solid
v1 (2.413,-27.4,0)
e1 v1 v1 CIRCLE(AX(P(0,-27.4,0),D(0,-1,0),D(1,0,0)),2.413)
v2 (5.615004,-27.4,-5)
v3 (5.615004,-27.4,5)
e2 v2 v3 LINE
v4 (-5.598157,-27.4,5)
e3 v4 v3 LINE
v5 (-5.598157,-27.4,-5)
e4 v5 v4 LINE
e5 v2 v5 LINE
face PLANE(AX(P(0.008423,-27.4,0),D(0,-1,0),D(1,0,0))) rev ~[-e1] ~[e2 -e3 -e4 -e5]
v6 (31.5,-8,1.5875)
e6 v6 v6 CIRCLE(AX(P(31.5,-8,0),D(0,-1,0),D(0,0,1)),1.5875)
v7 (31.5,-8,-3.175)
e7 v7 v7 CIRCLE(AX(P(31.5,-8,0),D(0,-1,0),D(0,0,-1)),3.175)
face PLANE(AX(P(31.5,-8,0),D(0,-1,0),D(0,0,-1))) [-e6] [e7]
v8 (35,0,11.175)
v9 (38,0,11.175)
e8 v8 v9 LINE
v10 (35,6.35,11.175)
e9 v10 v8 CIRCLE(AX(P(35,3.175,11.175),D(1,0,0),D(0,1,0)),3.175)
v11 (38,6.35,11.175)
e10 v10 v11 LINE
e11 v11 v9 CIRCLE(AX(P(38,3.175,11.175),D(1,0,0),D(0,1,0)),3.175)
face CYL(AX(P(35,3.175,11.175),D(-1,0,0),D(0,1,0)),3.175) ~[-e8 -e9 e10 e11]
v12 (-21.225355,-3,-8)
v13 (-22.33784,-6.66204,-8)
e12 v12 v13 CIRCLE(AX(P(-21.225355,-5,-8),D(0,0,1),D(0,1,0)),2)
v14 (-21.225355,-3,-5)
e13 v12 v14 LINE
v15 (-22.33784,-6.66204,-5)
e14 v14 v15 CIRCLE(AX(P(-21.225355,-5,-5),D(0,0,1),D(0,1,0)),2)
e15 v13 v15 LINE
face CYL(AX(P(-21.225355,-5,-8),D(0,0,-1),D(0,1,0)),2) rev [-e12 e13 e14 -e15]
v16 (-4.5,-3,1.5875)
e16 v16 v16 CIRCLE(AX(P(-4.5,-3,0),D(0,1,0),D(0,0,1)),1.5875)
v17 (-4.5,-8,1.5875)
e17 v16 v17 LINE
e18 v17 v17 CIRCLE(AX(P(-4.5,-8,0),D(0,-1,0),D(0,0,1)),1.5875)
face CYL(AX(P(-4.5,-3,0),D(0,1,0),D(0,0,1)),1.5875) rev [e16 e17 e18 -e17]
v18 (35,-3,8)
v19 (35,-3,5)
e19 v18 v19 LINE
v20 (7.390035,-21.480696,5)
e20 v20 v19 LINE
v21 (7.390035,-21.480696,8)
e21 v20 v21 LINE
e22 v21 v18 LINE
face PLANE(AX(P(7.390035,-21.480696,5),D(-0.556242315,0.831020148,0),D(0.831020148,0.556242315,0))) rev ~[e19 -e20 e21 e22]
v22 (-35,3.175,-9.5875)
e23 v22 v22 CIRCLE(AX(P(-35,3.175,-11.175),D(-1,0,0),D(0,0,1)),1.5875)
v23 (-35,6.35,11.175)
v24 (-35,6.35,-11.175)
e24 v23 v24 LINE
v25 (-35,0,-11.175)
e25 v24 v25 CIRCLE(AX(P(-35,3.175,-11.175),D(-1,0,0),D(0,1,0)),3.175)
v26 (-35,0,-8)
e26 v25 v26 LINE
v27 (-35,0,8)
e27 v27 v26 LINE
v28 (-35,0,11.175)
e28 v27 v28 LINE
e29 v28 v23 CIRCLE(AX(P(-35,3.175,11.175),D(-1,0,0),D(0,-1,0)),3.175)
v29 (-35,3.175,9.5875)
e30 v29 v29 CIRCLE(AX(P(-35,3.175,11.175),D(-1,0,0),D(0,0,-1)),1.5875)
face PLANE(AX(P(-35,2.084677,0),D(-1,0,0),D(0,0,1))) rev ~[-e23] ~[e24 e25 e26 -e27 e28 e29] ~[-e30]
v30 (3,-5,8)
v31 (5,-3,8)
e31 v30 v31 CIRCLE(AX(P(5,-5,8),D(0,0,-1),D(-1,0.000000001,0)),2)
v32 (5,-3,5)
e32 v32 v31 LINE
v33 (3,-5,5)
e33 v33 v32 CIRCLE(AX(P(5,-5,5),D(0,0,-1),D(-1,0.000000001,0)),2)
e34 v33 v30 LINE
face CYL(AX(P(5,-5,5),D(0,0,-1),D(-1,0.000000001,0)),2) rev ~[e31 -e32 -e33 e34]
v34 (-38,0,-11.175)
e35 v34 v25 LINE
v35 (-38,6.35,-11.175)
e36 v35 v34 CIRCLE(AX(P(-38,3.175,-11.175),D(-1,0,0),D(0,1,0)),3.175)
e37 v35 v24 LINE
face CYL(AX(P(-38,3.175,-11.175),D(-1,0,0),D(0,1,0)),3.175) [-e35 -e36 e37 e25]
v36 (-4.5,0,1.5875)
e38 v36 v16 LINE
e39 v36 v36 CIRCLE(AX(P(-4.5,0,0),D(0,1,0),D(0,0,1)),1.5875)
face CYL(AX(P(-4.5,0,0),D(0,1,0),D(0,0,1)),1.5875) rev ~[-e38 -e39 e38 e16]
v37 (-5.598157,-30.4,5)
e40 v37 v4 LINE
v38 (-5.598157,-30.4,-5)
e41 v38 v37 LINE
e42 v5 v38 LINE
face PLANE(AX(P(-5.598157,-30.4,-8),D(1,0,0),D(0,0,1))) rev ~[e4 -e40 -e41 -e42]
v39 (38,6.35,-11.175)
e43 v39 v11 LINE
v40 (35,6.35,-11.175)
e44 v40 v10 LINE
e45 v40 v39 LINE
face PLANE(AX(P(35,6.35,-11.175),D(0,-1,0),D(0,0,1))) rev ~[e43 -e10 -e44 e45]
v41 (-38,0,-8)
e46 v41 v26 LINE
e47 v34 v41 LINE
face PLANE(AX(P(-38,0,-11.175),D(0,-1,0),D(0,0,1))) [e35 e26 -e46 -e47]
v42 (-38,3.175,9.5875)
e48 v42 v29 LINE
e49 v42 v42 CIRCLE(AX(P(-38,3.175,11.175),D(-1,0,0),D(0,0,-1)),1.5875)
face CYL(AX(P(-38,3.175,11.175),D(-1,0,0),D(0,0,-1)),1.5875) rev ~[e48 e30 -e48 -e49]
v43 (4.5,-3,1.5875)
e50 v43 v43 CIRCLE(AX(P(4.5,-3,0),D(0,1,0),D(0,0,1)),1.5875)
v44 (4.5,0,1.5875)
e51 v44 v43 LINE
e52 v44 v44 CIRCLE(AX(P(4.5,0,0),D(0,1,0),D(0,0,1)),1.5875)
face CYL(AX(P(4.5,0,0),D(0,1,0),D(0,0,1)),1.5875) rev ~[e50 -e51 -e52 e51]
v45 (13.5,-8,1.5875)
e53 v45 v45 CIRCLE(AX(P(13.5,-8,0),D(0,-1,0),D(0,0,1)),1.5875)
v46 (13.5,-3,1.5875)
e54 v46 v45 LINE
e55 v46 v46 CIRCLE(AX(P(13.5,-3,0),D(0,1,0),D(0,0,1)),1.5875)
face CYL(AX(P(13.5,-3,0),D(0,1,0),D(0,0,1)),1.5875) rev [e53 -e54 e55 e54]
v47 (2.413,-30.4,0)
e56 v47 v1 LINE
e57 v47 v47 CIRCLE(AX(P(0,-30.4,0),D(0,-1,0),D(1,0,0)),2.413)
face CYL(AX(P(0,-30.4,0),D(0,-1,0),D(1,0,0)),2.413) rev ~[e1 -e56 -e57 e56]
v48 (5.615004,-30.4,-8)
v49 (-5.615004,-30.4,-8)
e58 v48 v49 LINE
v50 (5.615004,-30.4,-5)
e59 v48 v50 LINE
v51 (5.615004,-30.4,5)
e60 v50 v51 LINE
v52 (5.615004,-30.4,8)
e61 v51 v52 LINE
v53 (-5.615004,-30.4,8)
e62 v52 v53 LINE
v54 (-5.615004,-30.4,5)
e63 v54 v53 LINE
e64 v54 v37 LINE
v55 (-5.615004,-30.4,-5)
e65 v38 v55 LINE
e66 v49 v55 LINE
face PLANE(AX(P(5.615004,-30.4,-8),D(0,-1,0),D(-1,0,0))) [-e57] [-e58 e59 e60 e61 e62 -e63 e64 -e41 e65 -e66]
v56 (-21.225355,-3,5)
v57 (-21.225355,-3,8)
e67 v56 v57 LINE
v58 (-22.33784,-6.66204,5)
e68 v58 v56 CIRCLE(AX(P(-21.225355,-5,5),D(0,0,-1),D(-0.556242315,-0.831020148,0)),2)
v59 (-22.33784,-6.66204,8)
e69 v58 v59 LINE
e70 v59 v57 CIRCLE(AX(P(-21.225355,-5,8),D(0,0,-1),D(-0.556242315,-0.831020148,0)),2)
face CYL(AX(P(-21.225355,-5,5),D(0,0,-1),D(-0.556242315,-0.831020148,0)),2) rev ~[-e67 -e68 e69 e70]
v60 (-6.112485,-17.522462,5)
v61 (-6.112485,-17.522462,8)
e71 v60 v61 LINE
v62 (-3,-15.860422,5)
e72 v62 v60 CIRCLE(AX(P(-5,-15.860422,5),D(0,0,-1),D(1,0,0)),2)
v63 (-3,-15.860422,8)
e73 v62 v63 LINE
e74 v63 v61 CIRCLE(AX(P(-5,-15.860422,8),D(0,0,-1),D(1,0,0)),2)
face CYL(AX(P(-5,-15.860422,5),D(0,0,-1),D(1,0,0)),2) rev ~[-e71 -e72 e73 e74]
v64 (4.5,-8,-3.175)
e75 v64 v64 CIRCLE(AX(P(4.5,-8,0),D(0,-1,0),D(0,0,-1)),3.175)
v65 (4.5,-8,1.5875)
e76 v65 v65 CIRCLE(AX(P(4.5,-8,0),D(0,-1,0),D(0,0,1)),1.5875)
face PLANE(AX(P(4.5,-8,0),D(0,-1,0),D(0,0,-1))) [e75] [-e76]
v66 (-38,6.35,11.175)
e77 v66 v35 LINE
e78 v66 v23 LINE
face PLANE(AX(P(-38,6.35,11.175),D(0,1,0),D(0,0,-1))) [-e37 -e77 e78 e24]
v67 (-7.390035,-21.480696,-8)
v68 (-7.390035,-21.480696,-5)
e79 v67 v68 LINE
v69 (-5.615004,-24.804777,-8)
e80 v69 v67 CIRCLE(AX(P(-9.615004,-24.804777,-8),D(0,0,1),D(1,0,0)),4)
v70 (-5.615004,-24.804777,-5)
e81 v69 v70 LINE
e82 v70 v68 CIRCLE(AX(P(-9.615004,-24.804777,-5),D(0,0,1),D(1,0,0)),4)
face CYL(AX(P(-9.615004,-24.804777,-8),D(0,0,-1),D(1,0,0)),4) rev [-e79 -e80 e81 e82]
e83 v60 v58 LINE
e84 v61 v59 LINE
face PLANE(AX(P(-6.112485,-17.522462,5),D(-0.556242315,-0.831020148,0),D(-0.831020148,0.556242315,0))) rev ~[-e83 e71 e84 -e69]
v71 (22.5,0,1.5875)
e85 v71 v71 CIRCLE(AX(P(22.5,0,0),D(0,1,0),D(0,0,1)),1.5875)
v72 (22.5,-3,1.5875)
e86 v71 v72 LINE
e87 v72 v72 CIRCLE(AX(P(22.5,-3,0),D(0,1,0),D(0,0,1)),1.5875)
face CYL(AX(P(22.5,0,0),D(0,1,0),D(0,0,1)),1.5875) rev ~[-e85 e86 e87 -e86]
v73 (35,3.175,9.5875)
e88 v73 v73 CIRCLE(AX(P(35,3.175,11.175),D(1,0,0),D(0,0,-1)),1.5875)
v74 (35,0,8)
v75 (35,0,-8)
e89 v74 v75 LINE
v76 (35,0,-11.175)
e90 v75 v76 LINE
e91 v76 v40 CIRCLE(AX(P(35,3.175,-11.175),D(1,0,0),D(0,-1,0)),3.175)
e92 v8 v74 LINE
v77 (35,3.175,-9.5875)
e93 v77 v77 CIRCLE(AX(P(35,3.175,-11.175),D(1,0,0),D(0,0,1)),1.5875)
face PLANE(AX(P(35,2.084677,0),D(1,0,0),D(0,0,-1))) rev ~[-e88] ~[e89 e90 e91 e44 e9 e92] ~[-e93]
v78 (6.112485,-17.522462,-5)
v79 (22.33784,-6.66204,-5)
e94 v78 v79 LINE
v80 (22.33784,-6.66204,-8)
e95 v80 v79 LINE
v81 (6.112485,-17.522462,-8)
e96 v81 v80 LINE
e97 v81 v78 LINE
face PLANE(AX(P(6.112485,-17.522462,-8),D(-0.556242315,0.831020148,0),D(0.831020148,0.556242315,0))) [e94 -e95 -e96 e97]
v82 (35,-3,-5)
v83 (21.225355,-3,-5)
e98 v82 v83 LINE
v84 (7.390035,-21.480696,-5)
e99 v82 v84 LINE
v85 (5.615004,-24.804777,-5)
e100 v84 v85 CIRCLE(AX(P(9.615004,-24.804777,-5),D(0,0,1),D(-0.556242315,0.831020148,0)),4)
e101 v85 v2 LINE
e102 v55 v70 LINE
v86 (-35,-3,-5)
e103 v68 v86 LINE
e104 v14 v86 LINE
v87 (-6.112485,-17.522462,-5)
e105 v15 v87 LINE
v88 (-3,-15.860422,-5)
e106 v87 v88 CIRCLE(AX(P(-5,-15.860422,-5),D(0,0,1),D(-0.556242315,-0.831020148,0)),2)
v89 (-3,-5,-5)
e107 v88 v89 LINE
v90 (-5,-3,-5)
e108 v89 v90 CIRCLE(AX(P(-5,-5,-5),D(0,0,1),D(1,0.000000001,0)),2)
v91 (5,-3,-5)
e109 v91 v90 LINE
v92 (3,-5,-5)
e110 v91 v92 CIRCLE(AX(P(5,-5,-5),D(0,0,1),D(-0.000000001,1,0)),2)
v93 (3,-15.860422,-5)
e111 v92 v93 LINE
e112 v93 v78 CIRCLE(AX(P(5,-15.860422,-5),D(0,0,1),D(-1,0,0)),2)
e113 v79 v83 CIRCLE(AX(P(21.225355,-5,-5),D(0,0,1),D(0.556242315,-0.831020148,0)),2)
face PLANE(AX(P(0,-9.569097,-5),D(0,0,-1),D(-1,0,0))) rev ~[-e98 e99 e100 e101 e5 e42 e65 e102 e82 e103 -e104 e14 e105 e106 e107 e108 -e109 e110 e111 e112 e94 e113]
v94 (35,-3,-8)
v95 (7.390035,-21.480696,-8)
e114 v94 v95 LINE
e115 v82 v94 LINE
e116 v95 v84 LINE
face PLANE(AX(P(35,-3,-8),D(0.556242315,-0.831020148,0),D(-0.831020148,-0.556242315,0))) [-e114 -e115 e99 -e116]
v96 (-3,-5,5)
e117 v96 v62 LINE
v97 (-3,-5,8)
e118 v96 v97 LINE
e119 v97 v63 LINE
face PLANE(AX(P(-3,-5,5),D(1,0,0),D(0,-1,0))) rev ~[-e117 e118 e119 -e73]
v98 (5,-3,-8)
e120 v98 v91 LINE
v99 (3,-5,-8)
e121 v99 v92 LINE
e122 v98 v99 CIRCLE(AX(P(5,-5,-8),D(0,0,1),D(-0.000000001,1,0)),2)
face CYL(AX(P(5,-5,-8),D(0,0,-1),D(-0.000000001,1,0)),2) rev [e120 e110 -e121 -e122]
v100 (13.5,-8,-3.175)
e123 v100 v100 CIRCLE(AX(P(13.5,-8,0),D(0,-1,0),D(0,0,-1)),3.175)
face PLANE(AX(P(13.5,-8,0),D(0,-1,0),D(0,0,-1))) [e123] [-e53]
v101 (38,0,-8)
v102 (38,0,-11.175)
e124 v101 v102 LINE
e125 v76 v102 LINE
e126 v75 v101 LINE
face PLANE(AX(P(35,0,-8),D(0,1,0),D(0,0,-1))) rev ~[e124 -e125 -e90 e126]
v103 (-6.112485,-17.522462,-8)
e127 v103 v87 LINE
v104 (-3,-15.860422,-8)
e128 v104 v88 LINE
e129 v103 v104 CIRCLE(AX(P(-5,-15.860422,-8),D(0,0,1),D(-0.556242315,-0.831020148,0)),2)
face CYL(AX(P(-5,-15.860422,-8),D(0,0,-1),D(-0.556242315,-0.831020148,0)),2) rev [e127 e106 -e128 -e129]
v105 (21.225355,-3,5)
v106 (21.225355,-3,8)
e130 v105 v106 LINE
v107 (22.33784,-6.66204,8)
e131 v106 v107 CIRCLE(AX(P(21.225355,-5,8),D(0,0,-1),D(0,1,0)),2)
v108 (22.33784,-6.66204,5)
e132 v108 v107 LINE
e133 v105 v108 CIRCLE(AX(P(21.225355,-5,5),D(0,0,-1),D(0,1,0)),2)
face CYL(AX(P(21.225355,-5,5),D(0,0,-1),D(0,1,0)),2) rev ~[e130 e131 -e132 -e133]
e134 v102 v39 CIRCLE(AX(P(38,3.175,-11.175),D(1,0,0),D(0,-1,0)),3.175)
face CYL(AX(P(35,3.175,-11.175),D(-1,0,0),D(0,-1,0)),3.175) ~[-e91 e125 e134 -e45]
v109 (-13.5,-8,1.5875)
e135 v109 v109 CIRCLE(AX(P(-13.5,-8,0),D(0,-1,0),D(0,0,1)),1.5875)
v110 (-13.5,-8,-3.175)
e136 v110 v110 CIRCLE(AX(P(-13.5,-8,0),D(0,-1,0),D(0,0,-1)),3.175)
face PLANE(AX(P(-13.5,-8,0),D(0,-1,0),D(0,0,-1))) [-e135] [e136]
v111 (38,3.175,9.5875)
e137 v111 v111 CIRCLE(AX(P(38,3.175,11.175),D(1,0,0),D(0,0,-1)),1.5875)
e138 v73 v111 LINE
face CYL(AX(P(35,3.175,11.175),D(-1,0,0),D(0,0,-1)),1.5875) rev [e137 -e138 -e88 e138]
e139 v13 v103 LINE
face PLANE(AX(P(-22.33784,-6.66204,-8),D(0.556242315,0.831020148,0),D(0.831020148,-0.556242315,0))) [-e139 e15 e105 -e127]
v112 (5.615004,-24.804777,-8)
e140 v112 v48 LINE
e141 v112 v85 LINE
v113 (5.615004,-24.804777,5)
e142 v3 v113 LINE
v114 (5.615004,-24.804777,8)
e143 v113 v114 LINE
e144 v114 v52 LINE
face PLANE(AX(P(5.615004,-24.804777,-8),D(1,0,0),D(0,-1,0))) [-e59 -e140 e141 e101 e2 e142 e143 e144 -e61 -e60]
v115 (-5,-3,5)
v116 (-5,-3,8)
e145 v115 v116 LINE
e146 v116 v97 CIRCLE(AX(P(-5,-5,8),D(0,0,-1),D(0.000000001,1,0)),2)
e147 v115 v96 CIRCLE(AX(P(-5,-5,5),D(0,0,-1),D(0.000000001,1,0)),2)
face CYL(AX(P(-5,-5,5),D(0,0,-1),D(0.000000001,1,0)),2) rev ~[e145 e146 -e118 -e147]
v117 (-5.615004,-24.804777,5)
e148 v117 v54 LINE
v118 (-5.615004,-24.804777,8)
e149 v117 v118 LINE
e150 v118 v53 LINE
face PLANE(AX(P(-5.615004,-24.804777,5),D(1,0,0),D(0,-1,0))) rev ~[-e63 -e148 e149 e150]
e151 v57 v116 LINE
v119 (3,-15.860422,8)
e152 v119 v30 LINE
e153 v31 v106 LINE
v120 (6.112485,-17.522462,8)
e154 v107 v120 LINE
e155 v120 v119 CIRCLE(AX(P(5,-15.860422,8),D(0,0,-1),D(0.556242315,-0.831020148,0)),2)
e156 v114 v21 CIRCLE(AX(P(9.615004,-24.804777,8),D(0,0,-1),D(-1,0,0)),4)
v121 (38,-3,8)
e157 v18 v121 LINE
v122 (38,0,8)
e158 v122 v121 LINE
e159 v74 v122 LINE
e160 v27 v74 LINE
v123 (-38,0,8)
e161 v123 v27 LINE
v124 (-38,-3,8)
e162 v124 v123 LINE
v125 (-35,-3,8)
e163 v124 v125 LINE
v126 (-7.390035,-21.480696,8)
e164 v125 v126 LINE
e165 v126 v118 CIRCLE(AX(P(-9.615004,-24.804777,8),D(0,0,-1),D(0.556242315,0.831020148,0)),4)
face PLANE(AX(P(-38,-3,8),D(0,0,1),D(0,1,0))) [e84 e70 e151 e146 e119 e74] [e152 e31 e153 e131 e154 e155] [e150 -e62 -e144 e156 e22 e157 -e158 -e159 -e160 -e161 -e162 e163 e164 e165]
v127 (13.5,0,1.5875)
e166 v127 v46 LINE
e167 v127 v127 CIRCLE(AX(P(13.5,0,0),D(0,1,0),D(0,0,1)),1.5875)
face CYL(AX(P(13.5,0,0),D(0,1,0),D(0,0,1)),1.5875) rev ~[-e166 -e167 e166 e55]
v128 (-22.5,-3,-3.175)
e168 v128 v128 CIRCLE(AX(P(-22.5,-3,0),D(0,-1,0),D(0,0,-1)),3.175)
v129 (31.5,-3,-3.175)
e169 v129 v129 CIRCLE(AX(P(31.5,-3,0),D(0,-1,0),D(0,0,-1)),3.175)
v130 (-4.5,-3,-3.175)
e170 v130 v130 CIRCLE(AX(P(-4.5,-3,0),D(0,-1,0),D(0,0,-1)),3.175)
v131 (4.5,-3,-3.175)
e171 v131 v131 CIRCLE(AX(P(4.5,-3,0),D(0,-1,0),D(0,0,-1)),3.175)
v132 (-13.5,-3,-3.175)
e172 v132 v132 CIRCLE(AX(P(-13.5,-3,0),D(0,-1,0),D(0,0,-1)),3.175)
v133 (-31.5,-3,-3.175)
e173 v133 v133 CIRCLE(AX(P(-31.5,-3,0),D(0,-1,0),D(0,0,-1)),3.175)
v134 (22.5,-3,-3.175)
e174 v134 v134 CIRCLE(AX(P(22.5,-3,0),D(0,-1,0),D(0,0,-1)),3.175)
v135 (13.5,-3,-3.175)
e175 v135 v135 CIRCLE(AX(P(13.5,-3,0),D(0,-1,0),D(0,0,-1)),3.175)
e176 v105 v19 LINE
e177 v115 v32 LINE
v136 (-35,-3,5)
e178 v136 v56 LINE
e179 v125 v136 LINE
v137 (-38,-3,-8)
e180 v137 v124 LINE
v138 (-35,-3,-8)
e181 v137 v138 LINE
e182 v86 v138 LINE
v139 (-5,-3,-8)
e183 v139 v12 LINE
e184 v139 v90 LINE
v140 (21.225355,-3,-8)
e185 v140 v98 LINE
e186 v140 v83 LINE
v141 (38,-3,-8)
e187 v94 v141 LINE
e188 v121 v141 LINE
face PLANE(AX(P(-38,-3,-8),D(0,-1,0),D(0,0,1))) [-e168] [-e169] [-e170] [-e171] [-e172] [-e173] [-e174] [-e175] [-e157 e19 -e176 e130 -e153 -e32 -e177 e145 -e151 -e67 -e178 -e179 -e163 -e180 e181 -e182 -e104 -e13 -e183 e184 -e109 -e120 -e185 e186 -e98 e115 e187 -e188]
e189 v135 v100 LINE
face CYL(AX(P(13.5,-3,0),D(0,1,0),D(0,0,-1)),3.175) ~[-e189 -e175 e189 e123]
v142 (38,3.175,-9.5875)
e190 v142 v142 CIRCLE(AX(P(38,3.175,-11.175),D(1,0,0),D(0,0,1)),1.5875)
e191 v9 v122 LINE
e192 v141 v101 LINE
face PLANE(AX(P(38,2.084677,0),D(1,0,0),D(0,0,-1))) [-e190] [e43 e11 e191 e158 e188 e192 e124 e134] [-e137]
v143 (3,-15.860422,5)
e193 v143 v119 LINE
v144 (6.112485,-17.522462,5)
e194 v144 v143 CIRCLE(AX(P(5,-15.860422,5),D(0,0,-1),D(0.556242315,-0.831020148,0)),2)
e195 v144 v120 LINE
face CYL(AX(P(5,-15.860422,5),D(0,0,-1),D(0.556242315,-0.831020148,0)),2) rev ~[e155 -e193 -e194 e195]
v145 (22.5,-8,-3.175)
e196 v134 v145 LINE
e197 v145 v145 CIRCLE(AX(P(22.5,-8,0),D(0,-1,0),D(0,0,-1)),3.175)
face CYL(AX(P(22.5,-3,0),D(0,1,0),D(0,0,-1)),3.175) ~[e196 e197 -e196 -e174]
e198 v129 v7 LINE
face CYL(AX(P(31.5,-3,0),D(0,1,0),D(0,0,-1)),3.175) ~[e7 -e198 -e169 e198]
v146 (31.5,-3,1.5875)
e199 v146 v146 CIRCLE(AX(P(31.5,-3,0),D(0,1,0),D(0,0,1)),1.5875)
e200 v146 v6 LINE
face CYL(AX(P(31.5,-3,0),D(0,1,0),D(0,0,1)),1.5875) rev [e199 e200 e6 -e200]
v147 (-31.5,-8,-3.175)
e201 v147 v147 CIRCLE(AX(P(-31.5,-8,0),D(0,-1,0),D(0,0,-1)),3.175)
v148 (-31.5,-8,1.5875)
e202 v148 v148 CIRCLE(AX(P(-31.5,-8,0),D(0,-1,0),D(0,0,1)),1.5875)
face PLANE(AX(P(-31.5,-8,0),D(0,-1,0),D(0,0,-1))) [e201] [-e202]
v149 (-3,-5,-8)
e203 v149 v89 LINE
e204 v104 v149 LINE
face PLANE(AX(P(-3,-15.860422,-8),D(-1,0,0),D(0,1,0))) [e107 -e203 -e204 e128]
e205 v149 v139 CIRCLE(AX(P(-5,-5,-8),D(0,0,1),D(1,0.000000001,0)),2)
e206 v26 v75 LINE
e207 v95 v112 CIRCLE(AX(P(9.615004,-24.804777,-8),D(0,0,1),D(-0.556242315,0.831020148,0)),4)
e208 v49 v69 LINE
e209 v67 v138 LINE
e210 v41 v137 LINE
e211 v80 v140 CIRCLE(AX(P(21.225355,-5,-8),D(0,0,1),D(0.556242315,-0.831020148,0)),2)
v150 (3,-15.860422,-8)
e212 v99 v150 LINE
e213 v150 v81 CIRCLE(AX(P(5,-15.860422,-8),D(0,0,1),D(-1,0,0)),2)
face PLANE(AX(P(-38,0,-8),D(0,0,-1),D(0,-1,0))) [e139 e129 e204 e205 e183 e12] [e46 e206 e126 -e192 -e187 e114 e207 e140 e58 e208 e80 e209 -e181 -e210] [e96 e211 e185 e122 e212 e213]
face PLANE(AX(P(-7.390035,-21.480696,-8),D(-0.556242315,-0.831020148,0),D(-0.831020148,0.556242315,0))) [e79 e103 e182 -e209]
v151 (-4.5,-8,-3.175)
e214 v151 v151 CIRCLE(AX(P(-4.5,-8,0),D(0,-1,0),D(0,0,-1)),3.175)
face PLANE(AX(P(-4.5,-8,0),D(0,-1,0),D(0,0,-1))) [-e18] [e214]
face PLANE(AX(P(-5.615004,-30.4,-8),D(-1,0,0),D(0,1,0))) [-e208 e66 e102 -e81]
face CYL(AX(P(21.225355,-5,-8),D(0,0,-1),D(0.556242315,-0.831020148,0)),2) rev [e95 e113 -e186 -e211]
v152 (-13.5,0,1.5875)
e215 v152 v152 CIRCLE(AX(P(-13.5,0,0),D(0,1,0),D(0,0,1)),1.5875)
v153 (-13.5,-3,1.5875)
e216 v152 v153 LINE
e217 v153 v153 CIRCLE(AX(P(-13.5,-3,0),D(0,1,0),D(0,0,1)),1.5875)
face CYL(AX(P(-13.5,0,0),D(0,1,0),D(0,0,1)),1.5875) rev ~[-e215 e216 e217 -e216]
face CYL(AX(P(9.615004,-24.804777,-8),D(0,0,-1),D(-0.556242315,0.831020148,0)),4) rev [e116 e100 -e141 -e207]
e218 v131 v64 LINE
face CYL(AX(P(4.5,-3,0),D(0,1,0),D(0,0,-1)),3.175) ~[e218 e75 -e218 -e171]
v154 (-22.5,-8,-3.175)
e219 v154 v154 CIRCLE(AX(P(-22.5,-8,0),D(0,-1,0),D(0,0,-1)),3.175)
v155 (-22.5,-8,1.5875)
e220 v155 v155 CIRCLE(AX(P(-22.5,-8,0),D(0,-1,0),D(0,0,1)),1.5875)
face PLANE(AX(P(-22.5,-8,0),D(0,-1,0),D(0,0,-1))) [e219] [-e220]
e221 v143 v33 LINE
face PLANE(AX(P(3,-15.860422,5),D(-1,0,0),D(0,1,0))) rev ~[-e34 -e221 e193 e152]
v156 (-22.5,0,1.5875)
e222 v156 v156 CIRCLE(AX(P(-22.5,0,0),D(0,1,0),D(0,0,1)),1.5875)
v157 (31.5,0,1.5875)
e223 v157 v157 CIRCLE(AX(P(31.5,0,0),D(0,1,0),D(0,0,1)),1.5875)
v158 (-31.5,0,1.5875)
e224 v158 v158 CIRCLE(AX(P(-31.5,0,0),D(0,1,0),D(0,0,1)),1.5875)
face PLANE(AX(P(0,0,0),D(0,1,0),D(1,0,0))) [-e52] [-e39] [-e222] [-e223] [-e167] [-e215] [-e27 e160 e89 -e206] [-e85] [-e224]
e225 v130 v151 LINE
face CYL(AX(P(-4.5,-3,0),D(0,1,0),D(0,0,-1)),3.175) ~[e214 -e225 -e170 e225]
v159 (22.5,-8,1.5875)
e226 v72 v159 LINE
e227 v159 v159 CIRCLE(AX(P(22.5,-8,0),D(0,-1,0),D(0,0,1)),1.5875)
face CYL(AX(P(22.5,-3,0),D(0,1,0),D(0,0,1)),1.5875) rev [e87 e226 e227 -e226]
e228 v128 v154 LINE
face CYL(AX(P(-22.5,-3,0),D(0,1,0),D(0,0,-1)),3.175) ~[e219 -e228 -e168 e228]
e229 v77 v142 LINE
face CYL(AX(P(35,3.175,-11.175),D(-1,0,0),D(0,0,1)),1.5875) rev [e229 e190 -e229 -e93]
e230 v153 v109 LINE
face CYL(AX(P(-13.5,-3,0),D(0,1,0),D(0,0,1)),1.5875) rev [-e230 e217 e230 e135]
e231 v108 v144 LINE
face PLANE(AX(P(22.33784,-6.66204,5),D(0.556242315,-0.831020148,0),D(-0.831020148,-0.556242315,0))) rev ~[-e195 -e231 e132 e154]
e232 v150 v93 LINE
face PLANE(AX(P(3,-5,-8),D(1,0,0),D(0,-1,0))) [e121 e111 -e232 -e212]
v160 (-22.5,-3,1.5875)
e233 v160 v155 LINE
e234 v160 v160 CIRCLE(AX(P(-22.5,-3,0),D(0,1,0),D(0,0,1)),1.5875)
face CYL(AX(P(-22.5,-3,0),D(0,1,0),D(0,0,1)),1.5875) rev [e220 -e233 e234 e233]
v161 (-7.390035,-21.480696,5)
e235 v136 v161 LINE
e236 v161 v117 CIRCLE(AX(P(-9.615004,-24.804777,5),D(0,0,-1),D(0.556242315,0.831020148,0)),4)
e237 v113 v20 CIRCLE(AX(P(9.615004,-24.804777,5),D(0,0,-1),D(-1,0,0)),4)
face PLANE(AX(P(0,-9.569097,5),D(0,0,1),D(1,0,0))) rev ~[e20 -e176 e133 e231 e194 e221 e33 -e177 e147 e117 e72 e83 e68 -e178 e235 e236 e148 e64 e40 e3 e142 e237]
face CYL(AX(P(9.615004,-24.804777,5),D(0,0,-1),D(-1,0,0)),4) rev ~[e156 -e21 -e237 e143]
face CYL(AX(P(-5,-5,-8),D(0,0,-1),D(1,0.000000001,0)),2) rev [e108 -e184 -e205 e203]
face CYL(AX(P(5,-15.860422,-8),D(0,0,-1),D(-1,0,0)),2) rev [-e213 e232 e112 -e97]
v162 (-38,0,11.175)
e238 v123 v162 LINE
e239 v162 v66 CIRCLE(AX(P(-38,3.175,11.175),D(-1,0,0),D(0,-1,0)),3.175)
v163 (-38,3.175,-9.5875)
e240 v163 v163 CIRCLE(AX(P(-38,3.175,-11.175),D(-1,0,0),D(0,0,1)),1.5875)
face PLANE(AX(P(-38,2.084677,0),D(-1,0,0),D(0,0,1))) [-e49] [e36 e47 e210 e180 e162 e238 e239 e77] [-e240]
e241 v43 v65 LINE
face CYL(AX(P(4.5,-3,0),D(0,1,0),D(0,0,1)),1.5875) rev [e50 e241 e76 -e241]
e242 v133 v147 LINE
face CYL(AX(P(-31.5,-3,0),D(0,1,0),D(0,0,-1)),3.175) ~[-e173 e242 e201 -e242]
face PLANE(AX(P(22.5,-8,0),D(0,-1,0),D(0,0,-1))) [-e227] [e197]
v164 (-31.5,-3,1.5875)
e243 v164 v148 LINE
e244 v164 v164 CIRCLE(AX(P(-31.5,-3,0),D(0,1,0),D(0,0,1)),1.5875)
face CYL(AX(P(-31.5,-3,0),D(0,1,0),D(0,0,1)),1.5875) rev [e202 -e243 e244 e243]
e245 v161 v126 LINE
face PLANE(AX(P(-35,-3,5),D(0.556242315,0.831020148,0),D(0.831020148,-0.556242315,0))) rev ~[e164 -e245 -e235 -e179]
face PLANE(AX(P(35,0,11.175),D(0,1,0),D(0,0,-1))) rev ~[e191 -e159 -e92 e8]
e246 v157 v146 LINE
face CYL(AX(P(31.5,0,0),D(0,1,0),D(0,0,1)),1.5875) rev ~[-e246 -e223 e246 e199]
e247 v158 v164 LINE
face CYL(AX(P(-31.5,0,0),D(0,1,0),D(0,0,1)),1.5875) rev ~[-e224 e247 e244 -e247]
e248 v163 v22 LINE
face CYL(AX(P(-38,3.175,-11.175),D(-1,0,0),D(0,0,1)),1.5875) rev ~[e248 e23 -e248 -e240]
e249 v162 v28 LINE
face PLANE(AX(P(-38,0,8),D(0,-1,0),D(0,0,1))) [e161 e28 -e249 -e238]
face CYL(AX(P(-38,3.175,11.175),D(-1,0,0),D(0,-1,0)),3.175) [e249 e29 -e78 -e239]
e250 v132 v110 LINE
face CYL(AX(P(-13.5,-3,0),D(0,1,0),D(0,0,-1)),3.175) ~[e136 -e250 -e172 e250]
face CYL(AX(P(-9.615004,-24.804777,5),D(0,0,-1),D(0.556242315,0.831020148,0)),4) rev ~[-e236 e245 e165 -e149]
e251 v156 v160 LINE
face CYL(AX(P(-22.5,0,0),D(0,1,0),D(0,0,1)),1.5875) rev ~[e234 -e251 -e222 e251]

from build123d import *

# Parameters (mm, degrees)
SKETCH1_W            = 70
SKETCH1_H            = 16
SKETCH1_R            = 1.5875
BOSS_EXTRUDE1_DEPTH  = 3
BOSS_EXTRUDE6_DEPTH  = 3
BOSS_EXTRUDE9_START  = -3
BOSS_EXTRUDE9_DEPTH  = 3
SKETCH7_W            = 11.213160903
SKETCH7_H            = 16
SKETCH7_R            = 2.413
BOSS_EXTRUDE10_DEPTH = 3
SKETCH10_R           = 1.5875
BOSS_EXTRUDE11_DEPTH = 3
BOSS_EXTRUDE12_START = 3
SKETCH11_R           = 1.5875
BOSS_EXTRUDE12_DEPTH = 3
SKETCH12_R           = 3.175
SKETCH12_R_2         = 1.5875
BOSS_EXTRUDE13_DEPTH = 5


with BuildPart() as part:
    # Sketch1 → Boss-Extrude1 (new body)
    with BuildSketch(Plane(origin=(0, 0, 0), x_dir=(1, 0, 0), z_dir=(0, 1, 0))):
        Rectangle(SKETCH1_W, SKETCH1_H)
        with Locations(Location((-4.5, 0, 0), (0, 0, 270))):
            Circle(SKETCH1_R, mode=Mode.SUBTRACT)
        with Locations(Location((4.5, 0, 0), (0, 0, 270))):
            Circle(SKETCH1_R, mode=Mode.SUBTRACT)
        with Locations(Location((13.5, 0, 0), (0, 0, 270))):
            Circle(SKETCH1_R, mode=Mode.SUBTRACT)
        with Locations(Location((22.5, 0, 0), (0, 0, 270))):
            Circle(SKETCH1_R, mode=Mode.SUBTRACT)
        with Locations(Location((31.5, 0, 0), (0, 0, 270))):
            Circle(SKETCH1_R, mode=Mode.SUBTRACT)
        with Locations(Location((-13.5, 0, 0), (0, 0, 270))):
            Circle(SKETCH1_R, mode=Mode.SUBTRACT)
        with Locations(Location((-22.5, 0, 0), (0, 0, 270))):
            Circle(SKETCH1_R, mode=Mode.SUBTRACT)
        with Locations(Location((-31.5, 0, 0), (0, 0, 270))):
            Circle(SKETCH1_R, mode=Mode.SUBTRACT)
    extrude(amount=-BOSS_EXTRUDE1_DEPTH)

    # Sketch3 → Boss-Extrude6 (add)
    with BuildSketch(Plane(origin=(0, 0, -8), x_dir=(-1, 0, 0), z_dir=(0, 0, -1))):
        with BuildLine():
            ThreePointArc((-7.390034655, -21.480696382), (-6.086556875, -22.920616292), (-5.615003916, -24.804776975))
            Line((-5.615003916, -24.804776975), (-5.615003916, -30.4))
            Line((-5.615003916, -30.4), (5.615003916, -30.4))
            Line((5.615003916, -30.4), (5.615003916, -24.804776975))
            ThreePointArc((5.615003916, -24.804776975), (6.086556875, -22.920616292), (7.390034655, -21.480696382))
            Line((7.390034655, -21.480696382), (35, -3))
            Line((35, -3), (35, 0))
            Line((35, 0), (-35, 0))
            Line((-35, 0), (-35, -3))
            Line((-35, -3), (-7.390034655, -21.480696382))
        make_face()
        with BuildLine():
            Line((-6.11248463, -17.522461887), (-22.337839864, -6.662040296))
            ThreePointArc((-22.337839864, -6.662040296), (-23.139001046, -4.418656983), (-21.225355233, -3))
            Line((-21.225355233, -3), (-5, -3))
            ThreePointArc((-5, -3), (-3.585786438, -3.585786438), (-3, -5))
            Line((-3, -5), (-3, -15.860421591))
            ThreePointArc((-3, -15.860421591), (-4.057919659, -17.624645111), (-6.11248463, -17.522461887))
        make_face(mode=Mode.SUBTRACT)
        with BuildLine():
            Line((3, -15.860421591), (3, -5))
            ThreePointArc((3, -5), (3.585786438, -3.585786438), (5, -3))
            Line((5, -3), (21.225355233, -3))
            ThreePointArc((21.225355233, -3), (23.139001046, -4.418656983), (22.337839864, -6.662040296))
            Line((22.337839864, -6.662040296), (6.11248463, -17.522461887))
            ThreePointArc((6.11248463, -17.522461887), (4.057919659, -17.624645111), (3, -15.860421591))
        make_face(mode=Mode.SUBTRACT)
    extrude(amount=-BOSS_EXTRUDE6_DEPTH)

    # Sketch6 → Boss-Extrude9 (add)
    with BuildSketch(Plane.XY.offset(8).offset(BOSS_EXTRUDE9_START)):
        with BuildLine():
            ThreePointArc((-7.390034655, -21.480696382), (-6.086556875, -22.920616292), (-5.615003916, -24.804776975))
            Line((-5.615003916, -24.804776975), (-5.615003916, -30.4))
            Line((-5.615003916, -30.4), (5.615003916, -30.4))
            Line((5.615003916, -30.4), (5.615003916, -24.804776975))
            ThreePointArc((5.615003916, -24.804776975), (6.086556875, -22.920616292), (7.390034655, -21.480696382))
            Line((7.390034655, -21.480696382), (35, -3))
            Line((35, -3), (35, 0))
            Line((35, 0), (-35, 0))
            Line((-35, 0), (-35, -3))
            Line((-35, -3), (-7.390034655, -21.480696382))
        make_face()
        with BuildLine():
            Line((-6.11248463, -17.522461887), (-22.337839864, -6.662040296))
            ThreePointArc((-22.337839864, -6.662040296), (-23.139001046, -4.418656983), (-21.225355233, -3))
            Line((-21.225355233, -3), (-5, -3))
            ThreePointArc((-5, -3), (-3.585786438, -3.585786438), (-3, -5))
            Line((-3, -5), (-3, -15.860421591))
            ThreePointArc((-3, -15.860421591), (-4.057919659, -17.624645111), (-6.11248463, -17.522461887))
        make_face(mode=Mode.SUBTRACT)
        with BuildLine():
            Line((3, -15.860421591), (3, -5))
            ThreePointArc((3, -5), (3.585786438, -3.585786438), (5, -3))
            Line((5, -3), (21.225355233, -3))
            ThreePointArc((21.225355233, -3), (23.139001046, -4.418656983), (22.337839864, -6.662040296))
            Line((22.337839864, -6.662040296), (6.11248463, -17.522461887))
            ThreePointArc((6.11248463, -17.522461887), (4.057919659, -17.624645111), (3, -15.860421591))
        make_face(mode=Mode.SUBTRACT)
    extrude(amount=BOSS_EXTRUDE9_DEPTH)

    # Sketch7 → Boss-Extrude10 (add)
    with BuildSketch(Plane.XZ.offset(30.4)):
        with Locations((0.008423464, 0)):
            Rectangle(SKETCH7_W, SKETCH7_H)
        Circle(SKETCH7_R, mode=Mode.SUBTRACT)
    extrude(amount=-BOSS_EXTRUDE10_DEPTH)

    # Sketch10 → Boss-Extrude11 (add)
    with BuildSketch(Plane(origin=(35, 0, 0), x_dir=(0, 0, -1), z_dir=(1, 0, 0))):
        with BuildLine():
            Line((-11.175, 0), (-8, 0))
            Line((-8, 0), (-8, -3))
            Line((-8, -3), (8, -3))
            Line((8, -3), (8, 0))
            Line((8, 0), (11.175, 0))
            ThreePointArc((11.175, 0), (14.35, 3.175), (11.175, 6.35))
            Line((11.175, 6.35), (-11.175, 6.35))
            ThreePointArc((-11.175, 6.35), (-14.35, 3.175), (-11.175, 0))
        make_face()
        with Locations(Location((11.175, 3.175, 0), (0, 0, 180))):
            Circle(SKETCH10_R, mode=Mode.SUBTRACT)
        with Locations((-11.175, 3.175)):
            Circle(SKETCH10_R, mode=Mode.SUBTRACT)
    extrude(amount=BOSS_EXTRUDE11_DEPTH)

    # Sketch11 → Boss-Extrude12 (add)
    with BuildSketch(Plane.ZY.offset(35).offset(BOSS_EXTRUDE12_START)):
        with BuildLine():
            Line((-11.175, 0), (-8, 0))
            Line((-8, 0), (-8, -3))
            Line((-8, -3), (8, -3))
            Line((8, -3), (8, 0))
            Line((8, 0), (11.175, 0))
            ThreePointArc((11.175, 0), (14.35, 3.175), (11.175, 6.35))
            Line((11.175, 6.35), (-11.175, 6.35))
            ThreePointArc((-11.175, 6.35), (-14.35, 3.175), (-11.175, 0))
        make_face()
        with Locations(Location((11.175, 3.175, 0), (0, 0, 180))):
            Circle(SKETCH11_R, mode=Mode.SUBTRACT)
        with Locations((-11.175, 3.175)):
            Circle(SKETCH11_R, mode=Mode.SUBTRACT)
    extrude(amount=-BOSS_EXTRUDE12_DEPTH)

    # Sketch12 → Boss-Extrude13 (add)
    # profile 1 of 8: a face of its own
    with BuildSketch(Plane.XZ.offset(3)):
        with Locations(Location((-31.5, 0, 0), (0, 0, 270))):
            Circle(SKETCH12_R)
        with Locations(Location((-31.5, 0, 0), (0, 0, 90))):
            Circle(SKETCH12_R_2, mode=Mode.SUBTRACT)
    # profile 2 of 8: a face of its own
    with BuildSketch(Plane.XZ.offset(3)):
        with Locations(Location((-22.5, 0, 0), (0, 0, 270))):
            Circle(SKETCH12_R)
        with Locations(Location((-22.5, 0, 0), (0, 0, 90))):
            Circle(SKETCH12_R_2, mode=Mode.SUBTRACT)
    # profile 3 of 8: a face of its own
    with BuildSketch(Plane.XZ.offset(3)):
        with Locations(Location((-13.5, 0, 0), (0, 0, 270))):
            Circle(SKETCH12_R)
        with Locations(Location((-13.5, 0, 0), (0, 0, 90))):
            Circle(SKETCH12_R_2, mode=Mode.SUBTRACT)
    # profile 4 of 8: a face of its own
    with BuildSketch(Plane.XZ.offset(3)):
        with Locations(Location((-4.5, 0, 0), (0, 0, 270))):
            Circle(SKETCH12_R)
        with Locations(Location((-4.5, 0, 0), (0, 0, 90))):
            Circle(SKETCH12_R_2, mode=Mode.SUBTRACT)
    # profile 5 of 8: a face of its own
    with BuildSketch(Plane.XZ.offset(3)):
        with Locations(Location((4.5, 0, 0), (0, 0, 270))):
            Circle(SKETCH12_R)
        with Locations(Location((4.5, 0, 0), (0, 0, 90))):
            Circle(SKETCH12_R_2, mode=Mode.SUBTRACT)
    # profile 6 of 8: a face of its own
    with BuildSketch(Plane.XZ.offset(3)):
        with Locations(Location((13.5, 0, 0), (0, 0, 270))):
            Circle(SKETCH12_R)
        with Locations(Location((13.5, 0, 0), (0, 0, 90))):
            Circle(SKETCH12_R_2, mode=Mode.SUBTRACT)
    # profile 7 of 8: a face of its own
    with BuildSketch(Plane.XZ.offset(3)):
        with Locations(Location((22.5, 0, 0), (0, 0, 270))):
            Circle(SKETCH12_R)
        with Locations(Location((22.5, 0, 0), (0, 0, 90))):
            Circle(SKETCH12_R_2, mode=Mode.SUBTRACT)
    # profile 8 of 8: a face of its own
    with BuildSketch(Plane.XZ.offset(3)):
        with Locations(Location((31.5, 0, 0), (0, 0, 270))):
            Circle(SKETCH12_R)
        with Locations(Location((31.5, 0, 0), (0, 0, 90))):
            Circle(SKETCH12_R_2, mode=Mode.SUBTRACT)
    extrude(amount=BOSS_EXTRUDE13_DEPTH)


solid = part.part
